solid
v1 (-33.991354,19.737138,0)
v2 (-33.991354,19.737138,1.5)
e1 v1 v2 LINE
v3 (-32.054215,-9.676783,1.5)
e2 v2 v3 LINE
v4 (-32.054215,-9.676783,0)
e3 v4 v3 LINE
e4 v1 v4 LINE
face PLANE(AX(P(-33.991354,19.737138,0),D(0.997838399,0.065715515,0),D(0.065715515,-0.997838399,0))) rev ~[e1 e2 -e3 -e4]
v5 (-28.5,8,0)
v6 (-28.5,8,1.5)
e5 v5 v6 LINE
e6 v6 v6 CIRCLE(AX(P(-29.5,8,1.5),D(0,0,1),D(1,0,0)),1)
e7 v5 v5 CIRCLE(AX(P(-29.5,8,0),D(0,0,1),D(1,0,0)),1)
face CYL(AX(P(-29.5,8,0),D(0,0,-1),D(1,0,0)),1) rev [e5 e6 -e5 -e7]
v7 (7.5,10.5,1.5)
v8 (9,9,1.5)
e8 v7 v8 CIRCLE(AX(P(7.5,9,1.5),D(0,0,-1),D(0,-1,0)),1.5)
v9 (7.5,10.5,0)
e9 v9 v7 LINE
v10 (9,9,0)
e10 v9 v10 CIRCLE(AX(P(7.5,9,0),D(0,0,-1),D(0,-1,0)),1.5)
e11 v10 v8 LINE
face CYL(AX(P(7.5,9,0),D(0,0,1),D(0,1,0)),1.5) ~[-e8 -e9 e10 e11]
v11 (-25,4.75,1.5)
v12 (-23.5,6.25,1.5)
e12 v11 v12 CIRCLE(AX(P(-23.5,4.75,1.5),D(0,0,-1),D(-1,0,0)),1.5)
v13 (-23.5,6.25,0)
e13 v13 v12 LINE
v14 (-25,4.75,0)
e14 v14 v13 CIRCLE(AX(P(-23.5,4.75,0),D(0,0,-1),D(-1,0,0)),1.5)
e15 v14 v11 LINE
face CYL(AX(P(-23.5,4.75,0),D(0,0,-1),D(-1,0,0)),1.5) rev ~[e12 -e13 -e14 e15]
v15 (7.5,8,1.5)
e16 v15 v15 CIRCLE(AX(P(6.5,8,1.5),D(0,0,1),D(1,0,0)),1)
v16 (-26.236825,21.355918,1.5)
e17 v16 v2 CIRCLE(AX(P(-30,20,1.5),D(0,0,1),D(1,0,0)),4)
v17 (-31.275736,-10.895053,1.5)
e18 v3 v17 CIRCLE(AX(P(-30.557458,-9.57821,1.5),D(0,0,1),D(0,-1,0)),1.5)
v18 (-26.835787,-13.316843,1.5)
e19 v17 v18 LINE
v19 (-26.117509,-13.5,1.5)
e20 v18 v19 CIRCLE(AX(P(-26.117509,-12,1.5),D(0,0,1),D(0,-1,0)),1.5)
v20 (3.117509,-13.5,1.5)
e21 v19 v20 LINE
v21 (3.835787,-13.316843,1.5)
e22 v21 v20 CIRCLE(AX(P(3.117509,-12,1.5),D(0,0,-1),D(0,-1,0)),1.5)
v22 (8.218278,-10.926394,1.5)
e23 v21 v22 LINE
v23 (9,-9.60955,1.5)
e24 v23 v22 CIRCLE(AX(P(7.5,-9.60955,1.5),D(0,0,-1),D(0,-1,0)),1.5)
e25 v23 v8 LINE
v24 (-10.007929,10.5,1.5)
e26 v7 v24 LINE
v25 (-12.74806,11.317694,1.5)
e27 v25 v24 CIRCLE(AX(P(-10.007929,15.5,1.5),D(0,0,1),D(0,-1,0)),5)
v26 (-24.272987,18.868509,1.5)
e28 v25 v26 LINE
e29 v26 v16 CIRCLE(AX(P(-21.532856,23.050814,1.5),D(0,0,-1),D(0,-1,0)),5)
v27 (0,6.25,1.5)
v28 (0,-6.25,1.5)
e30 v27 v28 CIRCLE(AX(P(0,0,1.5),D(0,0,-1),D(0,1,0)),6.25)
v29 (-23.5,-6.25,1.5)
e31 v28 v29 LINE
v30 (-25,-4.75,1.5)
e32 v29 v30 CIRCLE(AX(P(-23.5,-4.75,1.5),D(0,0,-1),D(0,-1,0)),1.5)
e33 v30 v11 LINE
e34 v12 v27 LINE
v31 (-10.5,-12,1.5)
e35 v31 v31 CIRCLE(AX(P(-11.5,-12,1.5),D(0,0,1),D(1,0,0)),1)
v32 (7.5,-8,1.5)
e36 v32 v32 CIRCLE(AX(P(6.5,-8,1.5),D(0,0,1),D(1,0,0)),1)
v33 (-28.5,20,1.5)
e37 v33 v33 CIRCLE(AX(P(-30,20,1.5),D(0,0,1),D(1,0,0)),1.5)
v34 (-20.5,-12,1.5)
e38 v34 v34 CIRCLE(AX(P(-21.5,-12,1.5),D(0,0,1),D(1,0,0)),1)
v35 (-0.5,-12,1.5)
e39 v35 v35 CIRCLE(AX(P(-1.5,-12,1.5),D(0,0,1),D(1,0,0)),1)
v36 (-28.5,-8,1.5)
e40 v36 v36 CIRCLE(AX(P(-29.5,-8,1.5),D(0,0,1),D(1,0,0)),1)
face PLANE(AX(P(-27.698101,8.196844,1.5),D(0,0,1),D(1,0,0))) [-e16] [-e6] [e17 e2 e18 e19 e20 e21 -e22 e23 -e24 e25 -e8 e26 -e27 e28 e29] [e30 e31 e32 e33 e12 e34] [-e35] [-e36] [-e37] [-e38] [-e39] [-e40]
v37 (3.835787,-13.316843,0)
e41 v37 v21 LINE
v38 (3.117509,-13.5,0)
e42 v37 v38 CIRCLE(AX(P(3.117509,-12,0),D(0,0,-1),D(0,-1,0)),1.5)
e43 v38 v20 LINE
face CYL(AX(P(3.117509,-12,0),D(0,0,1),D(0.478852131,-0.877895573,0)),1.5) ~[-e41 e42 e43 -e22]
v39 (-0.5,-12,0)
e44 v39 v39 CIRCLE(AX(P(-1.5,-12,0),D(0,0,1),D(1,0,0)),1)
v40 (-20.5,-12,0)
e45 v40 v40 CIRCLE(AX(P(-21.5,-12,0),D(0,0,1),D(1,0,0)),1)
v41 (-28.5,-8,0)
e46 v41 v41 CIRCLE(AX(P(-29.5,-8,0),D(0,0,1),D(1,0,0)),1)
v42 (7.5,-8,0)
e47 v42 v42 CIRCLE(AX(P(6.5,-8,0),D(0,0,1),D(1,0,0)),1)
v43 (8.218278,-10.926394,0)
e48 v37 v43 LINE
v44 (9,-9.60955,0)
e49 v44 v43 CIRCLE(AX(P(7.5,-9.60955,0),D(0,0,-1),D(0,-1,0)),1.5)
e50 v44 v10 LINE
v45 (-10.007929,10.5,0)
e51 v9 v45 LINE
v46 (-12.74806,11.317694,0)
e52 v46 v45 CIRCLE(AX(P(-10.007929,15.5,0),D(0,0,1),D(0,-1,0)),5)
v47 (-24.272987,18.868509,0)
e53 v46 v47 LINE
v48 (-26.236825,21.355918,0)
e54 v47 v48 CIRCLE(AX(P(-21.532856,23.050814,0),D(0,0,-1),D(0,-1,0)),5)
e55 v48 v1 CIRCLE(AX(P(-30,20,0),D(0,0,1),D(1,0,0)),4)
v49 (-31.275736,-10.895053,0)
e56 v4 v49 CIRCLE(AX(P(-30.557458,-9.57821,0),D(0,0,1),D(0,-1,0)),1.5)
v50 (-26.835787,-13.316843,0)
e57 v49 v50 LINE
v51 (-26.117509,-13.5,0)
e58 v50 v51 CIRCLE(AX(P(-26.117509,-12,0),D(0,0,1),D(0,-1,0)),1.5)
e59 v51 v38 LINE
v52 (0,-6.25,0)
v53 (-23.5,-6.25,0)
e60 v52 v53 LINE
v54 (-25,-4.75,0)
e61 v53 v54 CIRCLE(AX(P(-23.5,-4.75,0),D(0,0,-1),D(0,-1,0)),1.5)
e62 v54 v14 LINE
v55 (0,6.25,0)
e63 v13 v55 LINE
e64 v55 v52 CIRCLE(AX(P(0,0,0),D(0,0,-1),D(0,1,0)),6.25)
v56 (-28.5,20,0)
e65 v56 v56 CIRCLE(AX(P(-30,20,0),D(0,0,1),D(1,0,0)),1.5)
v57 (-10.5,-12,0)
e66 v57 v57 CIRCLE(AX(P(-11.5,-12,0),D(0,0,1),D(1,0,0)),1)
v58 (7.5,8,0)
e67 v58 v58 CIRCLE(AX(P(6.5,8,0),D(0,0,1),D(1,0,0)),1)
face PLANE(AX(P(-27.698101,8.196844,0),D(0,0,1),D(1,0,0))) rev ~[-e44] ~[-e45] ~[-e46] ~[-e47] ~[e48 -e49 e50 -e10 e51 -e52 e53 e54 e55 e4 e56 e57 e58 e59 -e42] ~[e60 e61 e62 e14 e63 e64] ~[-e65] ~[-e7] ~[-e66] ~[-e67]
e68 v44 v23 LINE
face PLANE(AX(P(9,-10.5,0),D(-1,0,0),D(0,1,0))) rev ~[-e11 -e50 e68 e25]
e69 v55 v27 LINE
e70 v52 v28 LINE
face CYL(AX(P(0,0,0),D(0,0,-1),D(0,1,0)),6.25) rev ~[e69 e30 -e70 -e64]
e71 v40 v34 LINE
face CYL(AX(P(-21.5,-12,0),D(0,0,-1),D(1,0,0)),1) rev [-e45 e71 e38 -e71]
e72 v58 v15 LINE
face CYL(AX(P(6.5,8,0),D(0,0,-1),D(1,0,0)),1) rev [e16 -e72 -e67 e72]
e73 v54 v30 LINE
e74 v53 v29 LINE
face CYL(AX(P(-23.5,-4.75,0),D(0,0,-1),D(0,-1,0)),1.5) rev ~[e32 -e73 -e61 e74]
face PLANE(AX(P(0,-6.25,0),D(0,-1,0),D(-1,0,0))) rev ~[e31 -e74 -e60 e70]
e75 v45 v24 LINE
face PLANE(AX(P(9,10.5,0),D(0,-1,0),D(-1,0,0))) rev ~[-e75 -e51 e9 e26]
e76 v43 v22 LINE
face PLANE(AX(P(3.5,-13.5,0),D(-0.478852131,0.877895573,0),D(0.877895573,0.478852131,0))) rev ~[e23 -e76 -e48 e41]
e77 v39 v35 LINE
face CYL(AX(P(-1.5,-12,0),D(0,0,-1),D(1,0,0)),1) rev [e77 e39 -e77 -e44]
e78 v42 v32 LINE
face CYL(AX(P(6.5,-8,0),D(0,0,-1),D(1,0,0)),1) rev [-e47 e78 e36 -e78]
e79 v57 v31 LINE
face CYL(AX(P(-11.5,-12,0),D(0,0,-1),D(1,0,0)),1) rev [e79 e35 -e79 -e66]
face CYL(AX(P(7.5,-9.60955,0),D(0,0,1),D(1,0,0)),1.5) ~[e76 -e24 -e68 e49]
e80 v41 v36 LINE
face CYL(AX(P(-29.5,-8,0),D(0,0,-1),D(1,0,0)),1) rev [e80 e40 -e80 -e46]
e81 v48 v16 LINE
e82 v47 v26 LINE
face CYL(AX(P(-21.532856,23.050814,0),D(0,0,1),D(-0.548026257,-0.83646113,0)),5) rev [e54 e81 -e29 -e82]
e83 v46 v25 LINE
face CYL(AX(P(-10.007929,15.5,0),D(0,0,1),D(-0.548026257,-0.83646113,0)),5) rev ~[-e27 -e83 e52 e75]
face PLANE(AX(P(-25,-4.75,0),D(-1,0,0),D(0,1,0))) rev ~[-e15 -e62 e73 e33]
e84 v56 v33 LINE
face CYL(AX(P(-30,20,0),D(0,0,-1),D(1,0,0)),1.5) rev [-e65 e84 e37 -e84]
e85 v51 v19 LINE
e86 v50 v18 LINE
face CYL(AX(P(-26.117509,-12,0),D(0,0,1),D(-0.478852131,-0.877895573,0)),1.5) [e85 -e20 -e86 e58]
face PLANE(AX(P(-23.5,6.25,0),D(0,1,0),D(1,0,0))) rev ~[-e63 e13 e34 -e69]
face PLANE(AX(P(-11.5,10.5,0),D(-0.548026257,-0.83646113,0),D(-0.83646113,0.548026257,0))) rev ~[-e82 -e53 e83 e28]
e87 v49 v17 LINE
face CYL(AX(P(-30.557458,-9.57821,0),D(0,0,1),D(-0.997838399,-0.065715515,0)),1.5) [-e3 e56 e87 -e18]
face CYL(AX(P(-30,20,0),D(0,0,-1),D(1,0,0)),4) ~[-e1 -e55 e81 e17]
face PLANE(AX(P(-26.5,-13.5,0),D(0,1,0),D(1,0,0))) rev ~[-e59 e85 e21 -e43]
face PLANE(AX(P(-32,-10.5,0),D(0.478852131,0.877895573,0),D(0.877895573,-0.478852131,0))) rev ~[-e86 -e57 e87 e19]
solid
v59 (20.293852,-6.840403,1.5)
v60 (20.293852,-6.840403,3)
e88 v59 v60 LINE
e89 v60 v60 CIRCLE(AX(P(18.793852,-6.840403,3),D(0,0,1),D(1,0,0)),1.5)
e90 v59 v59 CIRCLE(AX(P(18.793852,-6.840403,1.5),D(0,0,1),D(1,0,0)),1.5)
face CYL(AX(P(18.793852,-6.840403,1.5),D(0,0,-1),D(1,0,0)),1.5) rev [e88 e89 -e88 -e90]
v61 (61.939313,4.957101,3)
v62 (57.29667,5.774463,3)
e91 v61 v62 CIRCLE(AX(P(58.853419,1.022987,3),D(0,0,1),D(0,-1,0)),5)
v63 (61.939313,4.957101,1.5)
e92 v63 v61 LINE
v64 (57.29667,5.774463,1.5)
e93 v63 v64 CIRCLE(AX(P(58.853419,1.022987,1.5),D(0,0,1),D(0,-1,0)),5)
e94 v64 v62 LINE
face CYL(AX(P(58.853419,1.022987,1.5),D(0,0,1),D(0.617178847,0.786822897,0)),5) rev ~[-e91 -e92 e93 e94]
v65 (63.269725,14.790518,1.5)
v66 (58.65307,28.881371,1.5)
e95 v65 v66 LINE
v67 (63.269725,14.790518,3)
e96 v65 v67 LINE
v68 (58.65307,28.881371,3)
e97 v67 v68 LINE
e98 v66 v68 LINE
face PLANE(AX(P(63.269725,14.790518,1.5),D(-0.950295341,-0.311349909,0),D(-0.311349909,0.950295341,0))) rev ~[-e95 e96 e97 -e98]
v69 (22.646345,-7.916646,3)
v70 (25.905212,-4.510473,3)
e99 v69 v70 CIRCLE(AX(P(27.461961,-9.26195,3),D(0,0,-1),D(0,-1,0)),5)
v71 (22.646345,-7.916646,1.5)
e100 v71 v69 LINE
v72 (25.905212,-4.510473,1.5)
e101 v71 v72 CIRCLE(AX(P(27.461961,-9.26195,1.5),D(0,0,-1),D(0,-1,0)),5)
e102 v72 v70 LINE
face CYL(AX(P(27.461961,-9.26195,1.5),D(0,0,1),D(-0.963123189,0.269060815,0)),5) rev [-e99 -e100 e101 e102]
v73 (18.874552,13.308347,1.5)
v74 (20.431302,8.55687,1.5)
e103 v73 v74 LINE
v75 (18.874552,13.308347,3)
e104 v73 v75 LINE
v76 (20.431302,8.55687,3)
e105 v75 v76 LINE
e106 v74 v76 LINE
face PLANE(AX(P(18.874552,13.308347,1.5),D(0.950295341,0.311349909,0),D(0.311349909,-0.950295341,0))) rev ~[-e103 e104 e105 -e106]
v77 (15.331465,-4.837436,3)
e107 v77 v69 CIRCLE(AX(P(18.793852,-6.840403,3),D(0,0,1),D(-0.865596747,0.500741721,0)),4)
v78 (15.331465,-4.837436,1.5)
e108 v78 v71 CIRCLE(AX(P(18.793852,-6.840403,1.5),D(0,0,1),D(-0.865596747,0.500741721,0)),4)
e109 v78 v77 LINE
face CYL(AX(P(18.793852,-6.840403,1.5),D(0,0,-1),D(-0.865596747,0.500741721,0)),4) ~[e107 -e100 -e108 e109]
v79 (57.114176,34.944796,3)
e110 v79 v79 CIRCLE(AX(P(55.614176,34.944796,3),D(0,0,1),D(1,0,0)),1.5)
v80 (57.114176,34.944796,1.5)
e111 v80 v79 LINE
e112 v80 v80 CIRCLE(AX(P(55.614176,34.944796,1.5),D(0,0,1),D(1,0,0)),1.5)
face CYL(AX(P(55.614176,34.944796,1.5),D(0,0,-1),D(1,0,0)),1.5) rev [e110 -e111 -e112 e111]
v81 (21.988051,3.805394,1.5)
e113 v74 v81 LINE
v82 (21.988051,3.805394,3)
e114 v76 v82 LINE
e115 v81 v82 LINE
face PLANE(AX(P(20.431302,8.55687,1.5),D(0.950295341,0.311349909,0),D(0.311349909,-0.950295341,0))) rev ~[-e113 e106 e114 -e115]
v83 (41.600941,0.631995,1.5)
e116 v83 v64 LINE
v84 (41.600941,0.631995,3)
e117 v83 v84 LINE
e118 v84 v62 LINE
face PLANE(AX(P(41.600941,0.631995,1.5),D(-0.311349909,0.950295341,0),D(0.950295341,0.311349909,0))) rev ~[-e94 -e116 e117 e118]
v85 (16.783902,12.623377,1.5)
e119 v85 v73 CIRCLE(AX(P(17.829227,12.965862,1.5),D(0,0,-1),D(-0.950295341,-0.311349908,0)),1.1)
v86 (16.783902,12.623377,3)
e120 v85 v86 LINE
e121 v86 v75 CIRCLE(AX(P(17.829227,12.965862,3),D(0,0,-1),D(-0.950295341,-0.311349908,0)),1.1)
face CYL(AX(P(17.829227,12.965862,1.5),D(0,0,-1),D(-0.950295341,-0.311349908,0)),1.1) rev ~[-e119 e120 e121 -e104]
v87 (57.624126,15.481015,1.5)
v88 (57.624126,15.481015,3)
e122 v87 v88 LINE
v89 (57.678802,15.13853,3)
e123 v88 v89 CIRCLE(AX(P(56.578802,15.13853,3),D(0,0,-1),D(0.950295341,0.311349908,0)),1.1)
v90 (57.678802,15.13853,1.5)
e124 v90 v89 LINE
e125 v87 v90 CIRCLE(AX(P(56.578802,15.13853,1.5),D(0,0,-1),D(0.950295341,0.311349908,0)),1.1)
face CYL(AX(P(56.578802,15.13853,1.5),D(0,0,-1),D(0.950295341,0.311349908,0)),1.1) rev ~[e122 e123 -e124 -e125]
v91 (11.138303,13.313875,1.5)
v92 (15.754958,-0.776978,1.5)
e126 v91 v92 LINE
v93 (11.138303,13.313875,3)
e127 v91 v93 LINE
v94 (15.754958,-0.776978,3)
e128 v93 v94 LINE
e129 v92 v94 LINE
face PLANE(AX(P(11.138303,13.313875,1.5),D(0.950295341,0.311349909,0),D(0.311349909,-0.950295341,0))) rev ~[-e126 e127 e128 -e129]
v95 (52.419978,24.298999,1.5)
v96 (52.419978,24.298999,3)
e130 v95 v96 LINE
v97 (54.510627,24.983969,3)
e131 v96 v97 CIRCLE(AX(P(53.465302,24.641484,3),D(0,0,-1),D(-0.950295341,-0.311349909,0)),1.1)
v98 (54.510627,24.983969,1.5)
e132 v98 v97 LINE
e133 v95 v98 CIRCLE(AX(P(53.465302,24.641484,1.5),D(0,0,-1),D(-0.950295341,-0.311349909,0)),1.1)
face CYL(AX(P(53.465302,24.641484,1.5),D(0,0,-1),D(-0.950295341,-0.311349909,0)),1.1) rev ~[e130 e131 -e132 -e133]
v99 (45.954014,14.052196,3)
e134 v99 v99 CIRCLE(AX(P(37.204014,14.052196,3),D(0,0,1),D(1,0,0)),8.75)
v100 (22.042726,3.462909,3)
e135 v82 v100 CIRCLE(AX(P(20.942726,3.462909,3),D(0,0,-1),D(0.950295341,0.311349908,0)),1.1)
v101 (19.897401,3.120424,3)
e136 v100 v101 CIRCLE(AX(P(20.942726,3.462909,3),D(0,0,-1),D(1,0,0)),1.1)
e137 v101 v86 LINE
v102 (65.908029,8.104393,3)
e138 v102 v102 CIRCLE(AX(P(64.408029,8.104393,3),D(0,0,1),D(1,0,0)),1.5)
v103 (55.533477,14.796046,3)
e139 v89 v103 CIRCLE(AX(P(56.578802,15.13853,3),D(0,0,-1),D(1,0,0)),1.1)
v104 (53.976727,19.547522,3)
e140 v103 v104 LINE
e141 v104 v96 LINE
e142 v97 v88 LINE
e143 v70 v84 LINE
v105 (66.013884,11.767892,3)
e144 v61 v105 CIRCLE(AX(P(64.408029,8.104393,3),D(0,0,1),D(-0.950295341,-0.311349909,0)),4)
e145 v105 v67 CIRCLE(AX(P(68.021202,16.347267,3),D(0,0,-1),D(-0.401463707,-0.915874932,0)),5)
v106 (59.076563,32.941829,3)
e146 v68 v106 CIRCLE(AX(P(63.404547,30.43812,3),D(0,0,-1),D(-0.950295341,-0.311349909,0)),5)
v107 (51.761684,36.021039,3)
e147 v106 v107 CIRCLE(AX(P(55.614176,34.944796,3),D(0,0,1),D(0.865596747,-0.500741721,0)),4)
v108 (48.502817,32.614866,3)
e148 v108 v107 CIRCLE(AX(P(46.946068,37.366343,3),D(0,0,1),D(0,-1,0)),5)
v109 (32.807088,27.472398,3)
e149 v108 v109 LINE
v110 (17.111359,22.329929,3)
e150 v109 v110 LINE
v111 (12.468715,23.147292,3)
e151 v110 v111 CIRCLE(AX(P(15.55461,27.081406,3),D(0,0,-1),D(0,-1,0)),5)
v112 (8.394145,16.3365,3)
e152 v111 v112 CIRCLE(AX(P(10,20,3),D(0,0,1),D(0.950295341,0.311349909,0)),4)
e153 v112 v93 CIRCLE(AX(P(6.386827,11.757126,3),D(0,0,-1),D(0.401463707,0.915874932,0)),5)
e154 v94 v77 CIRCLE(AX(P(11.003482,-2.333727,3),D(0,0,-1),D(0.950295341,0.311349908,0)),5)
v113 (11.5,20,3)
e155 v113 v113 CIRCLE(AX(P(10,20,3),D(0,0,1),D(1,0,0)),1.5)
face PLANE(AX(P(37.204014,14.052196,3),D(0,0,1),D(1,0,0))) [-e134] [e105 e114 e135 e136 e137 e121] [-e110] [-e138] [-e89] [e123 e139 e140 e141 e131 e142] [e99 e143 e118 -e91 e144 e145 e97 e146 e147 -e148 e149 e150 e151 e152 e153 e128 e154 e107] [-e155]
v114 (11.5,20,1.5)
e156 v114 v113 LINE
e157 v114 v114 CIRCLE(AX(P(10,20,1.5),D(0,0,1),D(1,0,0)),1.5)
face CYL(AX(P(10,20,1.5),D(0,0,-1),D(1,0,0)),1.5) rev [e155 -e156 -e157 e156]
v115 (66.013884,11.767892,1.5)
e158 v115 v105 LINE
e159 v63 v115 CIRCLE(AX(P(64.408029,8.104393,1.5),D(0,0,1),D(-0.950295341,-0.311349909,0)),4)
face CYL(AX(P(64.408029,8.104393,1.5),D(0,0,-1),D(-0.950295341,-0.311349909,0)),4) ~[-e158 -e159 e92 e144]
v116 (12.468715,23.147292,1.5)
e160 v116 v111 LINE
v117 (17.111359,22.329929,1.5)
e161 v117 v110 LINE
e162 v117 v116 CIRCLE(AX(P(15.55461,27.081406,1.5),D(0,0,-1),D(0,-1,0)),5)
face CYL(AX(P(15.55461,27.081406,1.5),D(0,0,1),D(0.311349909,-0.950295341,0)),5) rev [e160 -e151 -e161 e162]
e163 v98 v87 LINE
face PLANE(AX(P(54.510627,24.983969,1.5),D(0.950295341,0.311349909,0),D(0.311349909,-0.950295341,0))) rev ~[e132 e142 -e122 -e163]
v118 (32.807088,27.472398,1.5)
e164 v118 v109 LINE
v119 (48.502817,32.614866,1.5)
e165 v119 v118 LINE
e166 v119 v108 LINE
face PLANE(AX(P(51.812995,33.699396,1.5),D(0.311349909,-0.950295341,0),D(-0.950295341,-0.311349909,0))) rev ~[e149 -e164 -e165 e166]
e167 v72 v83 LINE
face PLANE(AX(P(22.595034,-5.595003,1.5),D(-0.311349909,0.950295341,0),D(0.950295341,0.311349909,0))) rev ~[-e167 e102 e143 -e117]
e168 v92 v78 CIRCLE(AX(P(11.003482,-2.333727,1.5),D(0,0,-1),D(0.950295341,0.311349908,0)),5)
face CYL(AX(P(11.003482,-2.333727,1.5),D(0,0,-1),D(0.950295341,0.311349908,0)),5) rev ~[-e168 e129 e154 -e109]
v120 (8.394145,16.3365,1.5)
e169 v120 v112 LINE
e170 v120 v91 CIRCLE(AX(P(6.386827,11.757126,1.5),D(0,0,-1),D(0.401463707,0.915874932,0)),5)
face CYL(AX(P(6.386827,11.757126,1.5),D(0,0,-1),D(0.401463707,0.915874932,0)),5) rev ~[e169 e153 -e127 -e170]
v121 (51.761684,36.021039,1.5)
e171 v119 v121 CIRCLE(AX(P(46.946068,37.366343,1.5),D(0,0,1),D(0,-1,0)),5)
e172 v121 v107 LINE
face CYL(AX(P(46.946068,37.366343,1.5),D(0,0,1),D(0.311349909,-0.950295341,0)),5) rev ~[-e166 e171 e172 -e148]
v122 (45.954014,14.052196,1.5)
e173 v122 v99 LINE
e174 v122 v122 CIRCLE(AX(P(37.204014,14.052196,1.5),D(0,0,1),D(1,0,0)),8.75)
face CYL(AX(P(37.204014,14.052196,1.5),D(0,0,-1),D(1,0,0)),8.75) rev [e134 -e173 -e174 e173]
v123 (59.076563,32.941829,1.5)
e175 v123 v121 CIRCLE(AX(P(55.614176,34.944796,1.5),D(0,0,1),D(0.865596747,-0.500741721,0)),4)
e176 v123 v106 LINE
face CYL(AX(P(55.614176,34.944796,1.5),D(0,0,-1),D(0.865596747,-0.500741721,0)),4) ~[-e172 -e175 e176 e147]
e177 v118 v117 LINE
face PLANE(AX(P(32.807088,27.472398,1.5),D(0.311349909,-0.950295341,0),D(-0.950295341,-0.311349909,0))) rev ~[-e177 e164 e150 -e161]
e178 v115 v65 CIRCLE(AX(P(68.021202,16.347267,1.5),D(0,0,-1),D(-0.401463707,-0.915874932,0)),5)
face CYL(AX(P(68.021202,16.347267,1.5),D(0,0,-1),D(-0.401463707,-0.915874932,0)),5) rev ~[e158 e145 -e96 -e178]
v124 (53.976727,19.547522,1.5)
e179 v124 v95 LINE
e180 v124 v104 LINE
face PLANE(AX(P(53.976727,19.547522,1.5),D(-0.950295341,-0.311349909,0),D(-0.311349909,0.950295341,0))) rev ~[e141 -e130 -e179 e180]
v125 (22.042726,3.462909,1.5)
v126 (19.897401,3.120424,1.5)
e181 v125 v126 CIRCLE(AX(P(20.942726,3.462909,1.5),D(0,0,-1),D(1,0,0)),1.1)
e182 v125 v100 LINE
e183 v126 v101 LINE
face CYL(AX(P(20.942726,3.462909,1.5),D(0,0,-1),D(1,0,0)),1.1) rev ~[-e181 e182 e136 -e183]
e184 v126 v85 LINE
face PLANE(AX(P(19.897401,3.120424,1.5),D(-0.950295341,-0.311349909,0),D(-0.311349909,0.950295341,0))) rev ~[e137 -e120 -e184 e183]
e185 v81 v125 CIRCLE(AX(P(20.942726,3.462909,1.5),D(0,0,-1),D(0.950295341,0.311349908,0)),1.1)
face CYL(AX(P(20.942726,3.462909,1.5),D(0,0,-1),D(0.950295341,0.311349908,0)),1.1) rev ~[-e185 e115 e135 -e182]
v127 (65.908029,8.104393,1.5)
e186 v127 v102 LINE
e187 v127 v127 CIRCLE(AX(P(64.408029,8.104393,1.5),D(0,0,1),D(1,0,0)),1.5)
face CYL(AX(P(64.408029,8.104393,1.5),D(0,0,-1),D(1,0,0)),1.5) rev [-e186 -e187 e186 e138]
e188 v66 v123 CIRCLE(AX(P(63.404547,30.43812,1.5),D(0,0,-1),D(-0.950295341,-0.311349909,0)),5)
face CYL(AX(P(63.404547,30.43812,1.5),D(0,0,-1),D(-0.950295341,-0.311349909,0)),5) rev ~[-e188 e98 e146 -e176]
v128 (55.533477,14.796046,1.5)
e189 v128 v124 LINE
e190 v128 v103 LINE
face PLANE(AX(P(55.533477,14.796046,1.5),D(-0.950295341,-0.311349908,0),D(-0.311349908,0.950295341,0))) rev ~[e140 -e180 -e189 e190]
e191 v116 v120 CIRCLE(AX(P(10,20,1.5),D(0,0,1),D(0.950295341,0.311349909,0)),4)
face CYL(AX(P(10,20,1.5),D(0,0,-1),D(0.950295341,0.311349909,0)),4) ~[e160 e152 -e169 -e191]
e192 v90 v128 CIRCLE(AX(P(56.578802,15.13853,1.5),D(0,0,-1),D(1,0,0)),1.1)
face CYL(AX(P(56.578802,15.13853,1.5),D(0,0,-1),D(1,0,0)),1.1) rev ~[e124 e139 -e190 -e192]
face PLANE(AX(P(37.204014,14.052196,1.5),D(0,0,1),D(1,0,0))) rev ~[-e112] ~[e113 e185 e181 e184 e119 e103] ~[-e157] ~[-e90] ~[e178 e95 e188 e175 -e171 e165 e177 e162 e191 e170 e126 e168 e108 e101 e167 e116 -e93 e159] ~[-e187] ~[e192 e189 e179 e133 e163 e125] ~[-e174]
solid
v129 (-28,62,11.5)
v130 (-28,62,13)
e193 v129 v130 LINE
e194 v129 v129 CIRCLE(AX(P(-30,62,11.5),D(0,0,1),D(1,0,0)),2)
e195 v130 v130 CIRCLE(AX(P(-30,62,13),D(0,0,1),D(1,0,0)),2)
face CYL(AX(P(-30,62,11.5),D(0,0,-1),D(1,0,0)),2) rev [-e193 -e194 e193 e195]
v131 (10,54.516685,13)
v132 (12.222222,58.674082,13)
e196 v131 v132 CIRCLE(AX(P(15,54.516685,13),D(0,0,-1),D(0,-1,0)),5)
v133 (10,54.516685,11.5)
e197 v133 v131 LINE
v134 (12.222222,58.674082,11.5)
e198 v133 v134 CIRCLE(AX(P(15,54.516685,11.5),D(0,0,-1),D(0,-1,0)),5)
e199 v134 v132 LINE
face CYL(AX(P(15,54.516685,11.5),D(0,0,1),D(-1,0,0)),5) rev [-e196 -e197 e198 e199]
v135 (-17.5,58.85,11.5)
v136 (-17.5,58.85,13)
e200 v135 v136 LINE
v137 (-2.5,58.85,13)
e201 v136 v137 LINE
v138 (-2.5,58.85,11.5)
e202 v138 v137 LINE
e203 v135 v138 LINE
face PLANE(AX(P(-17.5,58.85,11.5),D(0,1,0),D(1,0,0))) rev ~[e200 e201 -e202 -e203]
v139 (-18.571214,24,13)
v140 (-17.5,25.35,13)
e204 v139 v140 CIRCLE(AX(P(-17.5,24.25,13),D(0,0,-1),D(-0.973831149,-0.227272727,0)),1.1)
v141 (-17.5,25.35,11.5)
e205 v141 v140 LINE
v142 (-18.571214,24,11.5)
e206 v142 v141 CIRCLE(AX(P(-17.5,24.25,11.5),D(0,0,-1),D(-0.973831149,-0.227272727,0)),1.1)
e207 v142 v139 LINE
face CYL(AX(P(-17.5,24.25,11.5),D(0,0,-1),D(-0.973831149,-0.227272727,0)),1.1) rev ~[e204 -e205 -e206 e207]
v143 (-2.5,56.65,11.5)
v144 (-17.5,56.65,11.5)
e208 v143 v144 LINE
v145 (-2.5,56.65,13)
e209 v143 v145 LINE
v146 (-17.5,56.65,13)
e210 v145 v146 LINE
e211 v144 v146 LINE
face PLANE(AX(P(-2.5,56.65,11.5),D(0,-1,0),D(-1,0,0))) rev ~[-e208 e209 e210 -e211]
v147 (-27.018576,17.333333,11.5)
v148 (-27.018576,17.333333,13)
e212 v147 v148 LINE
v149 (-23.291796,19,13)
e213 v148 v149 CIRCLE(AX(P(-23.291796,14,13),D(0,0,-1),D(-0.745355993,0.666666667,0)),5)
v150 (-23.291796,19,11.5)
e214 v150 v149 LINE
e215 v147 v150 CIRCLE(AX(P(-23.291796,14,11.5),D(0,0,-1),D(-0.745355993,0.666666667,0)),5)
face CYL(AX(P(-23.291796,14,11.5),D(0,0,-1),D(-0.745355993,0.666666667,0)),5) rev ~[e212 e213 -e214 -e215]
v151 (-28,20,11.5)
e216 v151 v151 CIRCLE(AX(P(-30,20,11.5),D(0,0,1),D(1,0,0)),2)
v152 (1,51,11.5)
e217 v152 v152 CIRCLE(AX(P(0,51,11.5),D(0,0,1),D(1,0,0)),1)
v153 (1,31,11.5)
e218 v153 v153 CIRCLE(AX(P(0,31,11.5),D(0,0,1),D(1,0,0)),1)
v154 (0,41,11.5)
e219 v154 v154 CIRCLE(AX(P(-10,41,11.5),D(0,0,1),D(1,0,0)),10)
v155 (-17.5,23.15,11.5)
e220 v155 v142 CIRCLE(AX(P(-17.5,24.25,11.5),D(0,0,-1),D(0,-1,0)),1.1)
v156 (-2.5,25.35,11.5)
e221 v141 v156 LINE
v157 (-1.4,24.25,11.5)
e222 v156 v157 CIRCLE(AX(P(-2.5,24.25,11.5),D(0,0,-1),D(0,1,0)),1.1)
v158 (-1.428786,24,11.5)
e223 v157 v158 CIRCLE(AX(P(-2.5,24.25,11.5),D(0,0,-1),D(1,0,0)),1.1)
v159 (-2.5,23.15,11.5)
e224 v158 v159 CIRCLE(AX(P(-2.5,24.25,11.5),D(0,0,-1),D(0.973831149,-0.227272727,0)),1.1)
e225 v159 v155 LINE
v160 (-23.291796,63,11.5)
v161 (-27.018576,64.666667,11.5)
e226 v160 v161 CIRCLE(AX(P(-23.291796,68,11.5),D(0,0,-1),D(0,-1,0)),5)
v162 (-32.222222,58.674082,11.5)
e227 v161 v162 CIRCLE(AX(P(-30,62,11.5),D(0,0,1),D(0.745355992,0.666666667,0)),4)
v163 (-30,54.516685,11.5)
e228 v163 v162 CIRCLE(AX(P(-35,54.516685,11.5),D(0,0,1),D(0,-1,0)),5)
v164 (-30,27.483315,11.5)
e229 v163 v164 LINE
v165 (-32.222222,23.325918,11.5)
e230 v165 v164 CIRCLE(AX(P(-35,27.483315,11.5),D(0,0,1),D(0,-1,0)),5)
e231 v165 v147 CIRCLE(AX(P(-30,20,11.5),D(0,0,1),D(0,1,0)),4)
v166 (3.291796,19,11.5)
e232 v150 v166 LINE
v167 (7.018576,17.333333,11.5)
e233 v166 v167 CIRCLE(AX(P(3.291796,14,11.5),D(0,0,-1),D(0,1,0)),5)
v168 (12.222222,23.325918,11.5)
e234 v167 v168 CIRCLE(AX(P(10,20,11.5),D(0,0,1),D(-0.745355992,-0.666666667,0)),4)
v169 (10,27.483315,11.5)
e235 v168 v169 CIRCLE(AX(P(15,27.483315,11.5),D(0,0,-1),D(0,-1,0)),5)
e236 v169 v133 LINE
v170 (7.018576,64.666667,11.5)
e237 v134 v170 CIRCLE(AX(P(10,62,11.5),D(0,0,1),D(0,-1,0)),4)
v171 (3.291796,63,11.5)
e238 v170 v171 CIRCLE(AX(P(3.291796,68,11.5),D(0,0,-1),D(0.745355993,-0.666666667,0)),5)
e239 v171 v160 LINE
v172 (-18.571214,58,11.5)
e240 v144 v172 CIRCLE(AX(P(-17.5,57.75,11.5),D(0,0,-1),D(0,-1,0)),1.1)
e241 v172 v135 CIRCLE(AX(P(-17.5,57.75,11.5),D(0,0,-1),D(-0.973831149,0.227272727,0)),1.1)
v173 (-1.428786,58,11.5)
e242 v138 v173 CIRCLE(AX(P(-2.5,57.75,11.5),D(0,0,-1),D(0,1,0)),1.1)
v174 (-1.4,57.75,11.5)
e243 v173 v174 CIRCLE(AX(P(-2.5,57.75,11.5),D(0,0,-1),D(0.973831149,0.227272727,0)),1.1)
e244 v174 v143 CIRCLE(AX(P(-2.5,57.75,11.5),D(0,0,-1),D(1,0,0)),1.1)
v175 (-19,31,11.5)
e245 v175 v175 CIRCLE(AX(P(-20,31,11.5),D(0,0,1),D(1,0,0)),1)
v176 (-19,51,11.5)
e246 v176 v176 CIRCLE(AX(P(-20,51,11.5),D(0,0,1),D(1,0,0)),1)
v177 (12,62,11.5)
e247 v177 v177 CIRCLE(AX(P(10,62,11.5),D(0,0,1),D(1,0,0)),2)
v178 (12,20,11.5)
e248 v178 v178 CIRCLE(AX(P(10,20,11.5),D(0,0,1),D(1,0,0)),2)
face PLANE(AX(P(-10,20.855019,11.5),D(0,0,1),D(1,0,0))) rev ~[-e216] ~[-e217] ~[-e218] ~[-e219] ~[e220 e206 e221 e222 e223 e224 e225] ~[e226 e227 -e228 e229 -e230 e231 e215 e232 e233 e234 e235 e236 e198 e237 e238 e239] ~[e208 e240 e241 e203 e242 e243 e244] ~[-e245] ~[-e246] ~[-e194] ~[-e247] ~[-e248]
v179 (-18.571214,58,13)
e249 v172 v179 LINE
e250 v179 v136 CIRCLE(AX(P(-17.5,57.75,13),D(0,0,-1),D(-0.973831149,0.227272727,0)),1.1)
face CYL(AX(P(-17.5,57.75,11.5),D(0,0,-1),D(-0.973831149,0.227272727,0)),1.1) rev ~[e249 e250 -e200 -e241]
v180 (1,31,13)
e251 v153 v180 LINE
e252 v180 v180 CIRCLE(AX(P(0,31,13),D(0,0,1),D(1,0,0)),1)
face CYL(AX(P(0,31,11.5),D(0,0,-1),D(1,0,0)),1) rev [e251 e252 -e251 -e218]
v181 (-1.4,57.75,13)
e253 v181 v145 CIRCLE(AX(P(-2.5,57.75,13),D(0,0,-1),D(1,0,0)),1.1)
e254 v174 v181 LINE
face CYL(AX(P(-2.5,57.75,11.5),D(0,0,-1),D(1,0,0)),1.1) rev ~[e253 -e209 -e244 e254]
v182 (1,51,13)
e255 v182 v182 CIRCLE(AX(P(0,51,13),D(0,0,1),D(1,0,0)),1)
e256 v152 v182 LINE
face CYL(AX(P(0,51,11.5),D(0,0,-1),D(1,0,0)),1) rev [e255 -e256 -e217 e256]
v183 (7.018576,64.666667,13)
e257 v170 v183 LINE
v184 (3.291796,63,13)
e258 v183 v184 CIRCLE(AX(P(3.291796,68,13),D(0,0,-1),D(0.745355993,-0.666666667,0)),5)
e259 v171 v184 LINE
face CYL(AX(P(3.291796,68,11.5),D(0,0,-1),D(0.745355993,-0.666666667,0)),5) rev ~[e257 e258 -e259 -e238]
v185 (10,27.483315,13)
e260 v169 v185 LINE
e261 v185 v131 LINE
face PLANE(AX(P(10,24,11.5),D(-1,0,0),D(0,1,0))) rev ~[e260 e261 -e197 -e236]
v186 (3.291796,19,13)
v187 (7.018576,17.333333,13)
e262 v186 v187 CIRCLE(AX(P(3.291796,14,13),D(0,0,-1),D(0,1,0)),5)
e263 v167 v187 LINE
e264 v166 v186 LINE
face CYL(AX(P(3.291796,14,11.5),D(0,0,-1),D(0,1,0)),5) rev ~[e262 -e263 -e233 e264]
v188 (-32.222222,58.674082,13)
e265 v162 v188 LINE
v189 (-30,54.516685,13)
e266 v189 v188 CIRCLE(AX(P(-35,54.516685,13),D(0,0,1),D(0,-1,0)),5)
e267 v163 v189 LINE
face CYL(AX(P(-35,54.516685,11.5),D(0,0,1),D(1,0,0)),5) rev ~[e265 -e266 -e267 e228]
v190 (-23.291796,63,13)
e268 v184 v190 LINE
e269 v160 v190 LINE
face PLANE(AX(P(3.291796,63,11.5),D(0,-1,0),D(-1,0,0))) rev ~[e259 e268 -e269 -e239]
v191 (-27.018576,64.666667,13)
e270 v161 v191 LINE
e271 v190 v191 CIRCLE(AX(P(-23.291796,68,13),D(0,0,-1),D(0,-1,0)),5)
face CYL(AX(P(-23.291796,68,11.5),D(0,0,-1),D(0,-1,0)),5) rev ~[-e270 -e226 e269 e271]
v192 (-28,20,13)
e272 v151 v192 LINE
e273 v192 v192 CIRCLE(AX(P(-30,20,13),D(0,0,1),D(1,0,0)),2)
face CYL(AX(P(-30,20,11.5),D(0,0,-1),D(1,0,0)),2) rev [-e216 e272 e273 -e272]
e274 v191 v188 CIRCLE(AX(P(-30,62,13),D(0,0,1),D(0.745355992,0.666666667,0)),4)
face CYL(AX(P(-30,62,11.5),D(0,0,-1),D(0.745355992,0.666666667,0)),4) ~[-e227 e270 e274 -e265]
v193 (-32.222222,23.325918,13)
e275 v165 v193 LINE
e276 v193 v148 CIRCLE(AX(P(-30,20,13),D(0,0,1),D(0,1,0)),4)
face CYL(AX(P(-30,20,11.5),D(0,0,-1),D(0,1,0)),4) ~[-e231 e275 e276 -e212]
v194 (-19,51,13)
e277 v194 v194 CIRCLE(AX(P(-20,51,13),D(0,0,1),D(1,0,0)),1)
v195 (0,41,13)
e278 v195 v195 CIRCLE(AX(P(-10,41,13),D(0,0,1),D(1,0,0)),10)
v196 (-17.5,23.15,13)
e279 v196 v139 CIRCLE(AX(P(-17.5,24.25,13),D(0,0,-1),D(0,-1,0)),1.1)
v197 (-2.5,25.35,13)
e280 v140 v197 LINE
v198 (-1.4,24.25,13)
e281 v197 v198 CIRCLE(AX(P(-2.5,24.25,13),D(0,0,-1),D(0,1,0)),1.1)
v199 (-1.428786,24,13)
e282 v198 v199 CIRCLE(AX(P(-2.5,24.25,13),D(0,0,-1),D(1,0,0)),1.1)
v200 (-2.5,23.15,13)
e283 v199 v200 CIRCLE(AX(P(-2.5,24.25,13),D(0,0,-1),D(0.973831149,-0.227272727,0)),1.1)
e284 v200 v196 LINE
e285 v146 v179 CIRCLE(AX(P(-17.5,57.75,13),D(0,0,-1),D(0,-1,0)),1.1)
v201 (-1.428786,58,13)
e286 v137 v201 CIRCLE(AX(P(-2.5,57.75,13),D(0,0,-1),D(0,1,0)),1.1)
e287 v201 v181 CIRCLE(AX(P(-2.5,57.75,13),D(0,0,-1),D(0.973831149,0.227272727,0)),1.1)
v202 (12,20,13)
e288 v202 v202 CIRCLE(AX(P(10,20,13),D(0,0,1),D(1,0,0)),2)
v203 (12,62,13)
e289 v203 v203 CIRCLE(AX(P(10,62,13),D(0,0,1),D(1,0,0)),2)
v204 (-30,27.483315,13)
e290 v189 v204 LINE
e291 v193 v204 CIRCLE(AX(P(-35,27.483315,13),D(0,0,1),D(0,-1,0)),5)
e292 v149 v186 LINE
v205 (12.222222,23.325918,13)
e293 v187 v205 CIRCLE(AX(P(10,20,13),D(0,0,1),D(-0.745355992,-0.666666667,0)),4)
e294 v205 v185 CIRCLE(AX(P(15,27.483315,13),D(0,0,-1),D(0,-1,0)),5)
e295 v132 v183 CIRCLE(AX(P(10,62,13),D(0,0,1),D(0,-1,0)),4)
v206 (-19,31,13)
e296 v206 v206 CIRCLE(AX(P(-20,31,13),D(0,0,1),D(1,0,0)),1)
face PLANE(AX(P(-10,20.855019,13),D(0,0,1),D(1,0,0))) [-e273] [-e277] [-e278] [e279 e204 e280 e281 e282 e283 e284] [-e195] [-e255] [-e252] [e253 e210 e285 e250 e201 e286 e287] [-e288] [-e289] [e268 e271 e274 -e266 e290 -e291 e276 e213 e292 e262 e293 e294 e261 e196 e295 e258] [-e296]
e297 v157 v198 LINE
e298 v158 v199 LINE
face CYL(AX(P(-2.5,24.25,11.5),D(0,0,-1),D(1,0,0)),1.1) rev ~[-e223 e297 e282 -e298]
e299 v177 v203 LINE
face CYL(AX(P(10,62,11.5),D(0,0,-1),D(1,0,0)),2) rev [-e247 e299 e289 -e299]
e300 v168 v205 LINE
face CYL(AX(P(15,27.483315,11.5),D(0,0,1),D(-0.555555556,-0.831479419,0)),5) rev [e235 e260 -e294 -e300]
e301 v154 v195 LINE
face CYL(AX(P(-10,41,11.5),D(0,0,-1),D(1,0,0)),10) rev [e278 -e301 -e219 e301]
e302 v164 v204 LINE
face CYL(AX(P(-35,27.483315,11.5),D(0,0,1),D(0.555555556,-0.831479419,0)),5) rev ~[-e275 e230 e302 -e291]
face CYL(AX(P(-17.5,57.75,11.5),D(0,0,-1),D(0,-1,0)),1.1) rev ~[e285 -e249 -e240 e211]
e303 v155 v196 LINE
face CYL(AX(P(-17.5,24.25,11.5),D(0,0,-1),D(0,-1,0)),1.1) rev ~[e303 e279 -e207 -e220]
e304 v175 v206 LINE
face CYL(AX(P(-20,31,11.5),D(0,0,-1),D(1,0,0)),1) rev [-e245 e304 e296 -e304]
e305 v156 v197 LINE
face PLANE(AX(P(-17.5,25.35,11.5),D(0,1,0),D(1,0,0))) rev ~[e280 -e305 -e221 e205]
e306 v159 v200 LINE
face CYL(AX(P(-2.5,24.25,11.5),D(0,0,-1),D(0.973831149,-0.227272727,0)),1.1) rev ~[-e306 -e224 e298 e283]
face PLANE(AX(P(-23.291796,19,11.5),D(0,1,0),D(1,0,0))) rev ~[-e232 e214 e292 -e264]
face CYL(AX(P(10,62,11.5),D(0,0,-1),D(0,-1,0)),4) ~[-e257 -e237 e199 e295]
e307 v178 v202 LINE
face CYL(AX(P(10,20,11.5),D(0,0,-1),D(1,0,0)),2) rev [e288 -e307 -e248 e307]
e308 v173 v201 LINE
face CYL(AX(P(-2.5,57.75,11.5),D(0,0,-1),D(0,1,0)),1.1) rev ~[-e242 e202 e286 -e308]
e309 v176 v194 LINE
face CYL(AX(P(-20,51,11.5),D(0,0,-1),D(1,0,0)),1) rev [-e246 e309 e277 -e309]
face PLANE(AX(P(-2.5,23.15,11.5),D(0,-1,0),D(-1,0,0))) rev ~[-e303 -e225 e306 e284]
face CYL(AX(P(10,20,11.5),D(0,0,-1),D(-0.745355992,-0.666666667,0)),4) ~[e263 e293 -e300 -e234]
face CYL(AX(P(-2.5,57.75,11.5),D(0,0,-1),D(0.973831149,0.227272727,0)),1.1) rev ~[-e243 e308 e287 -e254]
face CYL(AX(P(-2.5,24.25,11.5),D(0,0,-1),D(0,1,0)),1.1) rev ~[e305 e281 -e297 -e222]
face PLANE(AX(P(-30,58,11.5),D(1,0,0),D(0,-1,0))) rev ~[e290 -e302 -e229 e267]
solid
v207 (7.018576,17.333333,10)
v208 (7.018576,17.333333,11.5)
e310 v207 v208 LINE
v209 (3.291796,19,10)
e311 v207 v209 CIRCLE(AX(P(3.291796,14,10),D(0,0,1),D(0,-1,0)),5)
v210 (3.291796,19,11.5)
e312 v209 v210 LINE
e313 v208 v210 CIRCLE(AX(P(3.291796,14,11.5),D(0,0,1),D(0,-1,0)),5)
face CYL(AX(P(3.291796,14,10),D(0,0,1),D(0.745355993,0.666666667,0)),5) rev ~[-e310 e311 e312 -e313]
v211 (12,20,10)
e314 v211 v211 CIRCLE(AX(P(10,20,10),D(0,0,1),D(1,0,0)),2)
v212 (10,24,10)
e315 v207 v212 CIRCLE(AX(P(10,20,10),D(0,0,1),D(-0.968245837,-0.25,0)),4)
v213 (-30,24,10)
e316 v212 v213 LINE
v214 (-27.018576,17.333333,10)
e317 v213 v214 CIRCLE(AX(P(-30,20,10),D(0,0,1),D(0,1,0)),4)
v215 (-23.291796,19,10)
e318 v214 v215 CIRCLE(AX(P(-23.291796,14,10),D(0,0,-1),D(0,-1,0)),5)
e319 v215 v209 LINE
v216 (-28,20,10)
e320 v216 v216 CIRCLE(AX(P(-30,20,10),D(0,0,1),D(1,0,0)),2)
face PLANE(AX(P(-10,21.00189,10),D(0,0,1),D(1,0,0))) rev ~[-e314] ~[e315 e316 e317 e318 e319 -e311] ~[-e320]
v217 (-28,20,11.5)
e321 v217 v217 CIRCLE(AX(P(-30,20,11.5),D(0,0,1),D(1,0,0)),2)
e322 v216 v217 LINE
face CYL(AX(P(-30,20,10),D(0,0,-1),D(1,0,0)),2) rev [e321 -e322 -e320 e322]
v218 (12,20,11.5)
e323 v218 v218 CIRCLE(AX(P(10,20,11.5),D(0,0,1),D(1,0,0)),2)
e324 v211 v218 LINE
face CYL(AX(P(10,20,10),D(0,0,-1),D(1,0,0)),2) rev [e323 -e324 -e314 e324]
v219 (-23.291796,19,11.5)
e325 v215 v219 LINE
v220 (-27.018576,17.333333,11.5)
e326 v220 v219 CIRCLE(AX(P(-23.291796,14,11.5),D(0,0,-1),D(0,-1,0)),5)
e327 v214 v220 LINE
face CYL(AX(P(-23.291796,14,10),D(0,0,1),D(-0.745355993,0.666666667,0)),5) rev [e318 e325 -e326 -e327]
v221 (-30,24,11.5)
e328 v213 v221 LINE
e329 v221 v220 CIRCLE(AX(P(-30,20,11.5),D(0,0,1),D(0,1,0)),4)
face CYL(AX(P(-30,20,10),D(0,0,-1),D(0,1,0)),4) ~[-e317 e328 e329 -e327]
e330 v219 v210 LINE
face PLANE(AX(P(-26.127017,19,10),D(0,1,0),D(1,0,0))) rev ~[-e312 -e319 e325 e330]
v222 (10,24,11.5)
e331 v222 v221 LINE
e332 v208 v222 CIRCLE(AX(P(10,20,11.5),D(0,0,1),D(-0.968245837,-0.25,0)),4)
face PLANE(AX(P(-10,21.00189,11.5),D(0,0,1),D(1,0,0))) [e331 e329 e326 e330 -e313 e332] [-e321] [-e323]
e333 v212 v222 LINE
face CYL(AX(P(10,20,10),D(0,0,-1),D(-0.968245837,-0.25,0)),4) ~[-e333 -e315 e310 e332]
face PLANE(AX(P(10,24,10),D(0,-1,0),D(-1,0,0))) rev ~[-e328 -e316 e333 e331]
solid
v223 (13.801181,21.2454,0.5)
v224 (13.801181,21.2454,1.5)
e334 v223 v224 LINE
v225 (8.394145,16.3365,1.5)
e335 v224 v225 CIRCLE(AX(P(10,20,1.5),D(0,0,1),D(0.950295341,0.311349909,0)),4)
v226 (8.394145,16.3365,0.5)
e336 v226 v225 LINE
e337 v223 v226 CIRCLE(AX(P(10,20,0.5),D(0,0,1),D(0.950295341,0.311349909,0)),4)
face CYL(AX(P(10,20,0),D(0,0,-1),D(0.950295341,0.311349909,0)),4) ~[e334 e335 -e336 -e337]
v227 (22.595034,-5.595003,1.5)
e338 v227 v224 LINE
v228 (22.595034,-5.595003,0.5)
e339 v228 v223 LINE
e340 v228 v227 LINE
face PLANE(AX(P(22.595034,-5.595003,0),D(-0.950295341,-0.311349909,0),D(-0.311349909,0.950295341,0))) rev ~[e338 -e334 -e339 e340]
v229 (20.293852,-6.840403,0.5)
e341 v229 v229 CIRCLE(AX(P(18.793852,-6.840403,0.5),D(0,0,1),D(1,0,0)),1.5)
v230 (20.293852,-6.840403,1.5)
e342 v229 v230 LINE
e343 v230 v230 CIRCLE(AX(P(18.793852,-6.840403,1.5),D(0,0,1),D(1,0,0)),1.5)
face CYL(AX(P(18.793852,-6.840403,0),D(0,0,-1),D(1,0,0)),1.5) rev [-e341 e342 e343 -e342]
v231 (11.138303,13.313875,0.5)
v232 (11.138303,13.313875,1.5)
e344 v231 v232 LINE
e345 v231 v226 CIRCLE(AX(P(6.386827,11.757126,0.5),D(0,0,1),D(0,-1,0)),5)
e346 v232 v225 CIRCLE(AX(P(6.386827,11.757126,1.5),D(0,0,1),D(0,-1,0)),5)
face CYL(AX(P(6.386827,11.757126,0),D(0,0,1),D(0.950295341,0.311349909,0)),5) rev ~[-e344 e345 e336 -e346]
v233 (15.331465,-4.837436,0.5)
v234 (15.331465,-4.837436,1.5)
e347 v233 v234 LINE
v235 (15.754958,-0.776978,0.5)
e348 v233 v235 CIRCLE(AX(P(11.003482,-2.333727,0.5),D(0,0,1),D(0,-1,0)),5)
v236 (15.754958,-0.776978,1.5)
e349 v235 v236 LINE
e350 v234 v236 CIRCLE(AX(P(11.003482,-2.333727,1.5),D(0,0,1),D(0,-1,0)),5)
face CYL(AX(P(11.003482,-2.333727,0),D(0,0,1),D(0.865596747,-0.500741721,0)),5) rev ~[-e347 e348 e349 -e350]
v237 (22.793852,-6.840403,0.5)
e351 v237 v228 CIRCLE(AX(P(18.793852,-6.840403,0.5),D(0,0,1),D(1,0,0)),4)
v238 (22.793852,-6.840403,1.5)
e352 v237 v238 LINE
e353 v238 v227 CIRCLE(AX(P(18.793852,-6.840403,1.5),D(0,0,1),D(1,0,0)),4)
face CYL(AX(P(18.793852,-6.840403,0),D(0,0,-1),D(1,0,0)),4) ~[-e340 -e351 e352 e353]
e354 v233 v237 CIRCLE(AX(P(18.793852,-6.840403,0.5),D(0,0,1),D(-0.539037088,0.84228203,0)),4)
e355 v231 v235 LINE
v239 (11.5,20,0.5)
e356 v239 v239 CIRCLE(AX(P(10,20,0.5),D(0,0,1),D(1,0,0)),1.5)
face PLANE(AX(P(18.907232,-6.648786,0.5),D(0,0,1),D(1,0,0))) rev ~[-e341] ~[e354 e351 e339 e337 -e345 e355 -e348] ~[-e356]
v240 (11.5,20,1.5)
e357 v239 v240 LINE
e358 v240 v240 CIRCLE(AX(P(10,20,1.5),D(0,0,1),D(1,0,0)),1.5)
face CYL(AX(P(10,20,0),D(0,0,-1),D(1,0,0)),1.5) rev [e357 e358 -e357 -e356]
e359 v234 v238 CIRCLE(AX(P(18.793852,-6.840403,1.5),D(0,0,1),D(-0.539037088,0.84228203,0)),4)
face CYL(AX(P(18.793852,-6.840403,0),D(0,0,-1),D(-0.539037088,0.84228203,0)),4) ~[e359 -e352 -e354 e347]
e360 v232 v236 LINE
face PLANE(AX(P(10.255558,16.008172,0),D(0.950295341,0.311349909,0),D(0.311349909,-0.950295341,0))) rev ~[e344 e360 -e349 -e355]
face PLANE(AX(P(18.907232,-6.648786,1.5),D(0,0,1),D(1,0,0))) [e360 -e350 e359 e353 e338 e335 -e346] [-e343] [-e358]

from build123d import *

# Parameters (mm, degrees)
F0_R      = 1
F0_R_2    = 1.5
F0_W      = 30
F0_H      = 3
F1_DEPTH  = 1.5
F3_R      = 2
F4_DEPTH  = 1.5
F5_R      = 5
F5_2_R    = 5
F5_3_R    = 5
F6_R      = 1.5
F7_DEPTH  = 0.5
F8_R      = 8.75
F8_R_2    = 1.5
F9_DEPTH  = 1.5
F10_R     = 2
F10_R_2   = 1
F10_R_3   = 10
F11_DEPTH = 1.5
F12_R     = 5
F12_2_R   = 5


with BuildPart() as f1:
    # F0 (on Top) → F1 (new body)
    with BuildSketch(Plane.XY):
        with BuildLine():
            Line((-32, -10.5), (-32, 10.5))
            Line((-32, 10.5), (-11.5, 10.5))
            Line((-11.5, 10.5), (-26, 20))
            ThreePointArc((-26, 20), (-29.8684978874, 16.0021621851), (-33.9913535972, 19.7371379408))
            Line((-33.9913535972, 19.7371379408), (-32, -10.5))
        make_face()
        Polygon((-11.5, 10.5), (-32, 10.5), (-32, -10.5), (-26.5, -10.5), (3.5, -10.5), (9, -10.5), (9, 10.5), align=None)
        with Locations((-29.5, -8)):
            Circle(F0_R, mode=Mode.SUBTRACT)
        with BuildLine():
            ThreePointArc((0, 6.25), (6.25, 0), (0, -6.25))
            Line((0, -6.25), (-23.5, -6.25))
            ThreePointArc((-23.5, -6.25), (-24.5606601718, -5.8106601718), (-25, -4.75))
            Line((-25, -4.75), (-25, 0))
            Line((-25, 0), (-25, 4.75))
            ThreePointArc((-25, 4.75), (-24.5606601718, 5.8106601718), (-23.5, 6.25))
            Line((-23.5, 6.25), (0, 6.25))
        make_face(mode=Mode.SUBTRACT)
        with Locations((6.5, -8)):
            Circle(F0_R, mode=Mode.SUBTRACT)
        with Locations((-29.5, 8)):
            Circle(F0_R, mode=Mode.SUBTRACT)
        with Locations((6.5, 8)):
            Circle(F0_R, mode=Mode.SUBTRACT)
        Polygon((-26.5, -10.5), (-32, -10.5), (-26.5, -13.5), align=None)
        with BuildLine():
            ThreePointArc((-33.9913535972, 19.7371379408), (-29.8684978874, 16.0021621851), (-26, 20))
            ThreePointArc((-26, 20), (-30.1315021126, 23.9978378149), (-33.9913535972, 19.7371379408))
        make_face()
        with Locations((-30, 20)):
            Circle(F0_R_2, mode=Mode.SUBTRACT)
        with Locations((-11.5, -12)):
            Rectangle(F0_W, F0_H)
        with Locations((-21.5, -12)):
            Circle(F0_R, mode=Mode.SUBTRACT)
        with Locations((-11.5, -12)):
            Circle(F0_R, mode=Mode.SUBTRACT)
        with Locations((-1.5, -12)):
            Circle(F0_R, mode=Mode.SUBTRACT)
        Polygon((3.5, -13.5), (9, -10.5), (3.5, -10.5), align=None)
    extrude(amount=F1_DEPTH)

    # F5#3
    f5_3_edges = [f1.edges().sort_by_distance(p)[0] for p in [
        (-26, 20, 0.75),
        (-11.5, 10.5, 0.75),
    ]]
    fillet(f5_3_edges, radius=F5_3_R)

    # F6
    f6_edges = [f1.edges().sort_by_distance(p)[0] for p in [
        (9, 10.5, 0.75),
        (-32, -10.5, 0.75),
        (9, -10.5, 0.75),
        (-26.5, -13.5, 0.75),
        (3.5, -13.5, 0.75),
    ]]
    fillet(f6_edges, radius=F6_R)


with BuildPart() as f1b:
    # F0 (on Top) → F1, piece 2 (new body)
    with BuildSketch(Plane.XY):
        with BuildLine():
            ThreePointArc((16.6377040645, -3.4712747467), (16.8735130453, -10.3492911096), (22.7938524157, -6.8404028665))
            ThreePointArc((22.7938524157, -6.8404028665), (22.7438350391, -6.2098179993), (22.5950337783, -5.5950032324))
            ThreePointArc((22.5950337783, -5.5950032324), (20.1370162451, -3.0726567329), (16.6377040645, -3.4712747467))
        make_face()
        with Locations((18.7938524157, -6.8404028665)):
            Circle(F0_R_2, mode=Mode.SUBTRACT)
        with BuildLine():
            ThreePointArc((16.6377040645, -3.4712747467), (20.1370162451, -3.0726567329), (22.5950337783, -5.5950032324))
            Line((22.5950337783, -5.5950032324), (13.8011813626, 21.2453996341))
            ThreePointArc((13.8011813626, 21.2453996341), (13.9499826234, 20.6305848672), (14, 20))
            ThreePointArc((14, 20), (12.9173815897, 17.263417339), (10.2555576699, 16.0081720632))
            Line((10.2555576699, 16.0081720632), (16.6377040645, -3.4712747467))
        make_face()
        with BuildLine():
            ThreePointArc((14, 20), (13.9499826234, 20.6305848672), (13.8011813626, 21.2453996341))
            ThreePointArc((13.8011813626, 21.2453996341), (6.6876864503, 22.242449319), (10.2555576699, 16.0081720632))
            ThreePointArc((10.2555576699, 16.0081720632), (12.9173815897, 17.263417339), (14, 20))
        make_face()
        with Locations((10, 20)):
            Circle(F0_R_2, mode=Mode.SUBTRACT)
    extrude(amount=F1_DEPTH)

    # F5
    f5_edges = [f1b.edges().sort_by_distance(p)[0] for p in [
        (10.255558, 16.008172, 0.75),
        (16.637704, -3.471275, 0.75),
    ]]
    fillet(f5_edges, radius=F5_R)

    # F7 (cut): a face of the model
    f7_faces = [f1b.faces().sort_by_distance(p)[0] for p in [
        (15.2199810724, 6.849460056, 0),
    ]]
    extrude(f7_faces, amount=-F7_DEPTH, mode=Mode.SUBTRACT)


with BuildPart() as f4:
    # F3 (on offset) → F4 (new body)
    with BuildSketch(Plane.XY.offset(10)):
        with BuildLine():
            Line((10, 24), (-30, 24))
            ThreePointArc((-30, 24), (-33.1622776602, 17.5505102572), (-26.1270166538, 19))
            Line((-26.1270166538, 19), (6.1270166538, 19))
            ThreePointArc((6.1270166538, 19), (13.1622776602, 17.5505102572), (10, 24))
        make_face()
        with Locations((-30, 20)):
            Circle(F3_R, mode=Mode.SUBTRACT)
        with Locations((10, 20)):
            Circle(F3_R, mode=Mode.SUBTRACT)
    extrude(amount=F4_DEPTH)

    # F5#2
    f5_2_edges = [f4.edges().sort_by_distance(p)[0] for p in [
        (-26.127017, 19, 10.75),
        (6.127017, 19, 10.75),
    ]]
    fillet(f5_2_edges, radius=F5_2_R)


with BuildPart() as f9:
    # F8 (on face) → F9 (new body)
    with BuildSketch(Plane.XY.offset(1.5)):
        Polygon((13.8011813626, 21.2453996341), (22.5950337783, -5.5950032324), (41.6009405914, 0.6319949379), (60.6068474044, 6.8589931082), (51.8129949887, 33.6993959747), (32.8070881757, 27.4723978044), align=None)
        with BuildLine():
            ThreePointArc((22.0427262889, 3.4629088832), (21.1161371274, 2.3766636618), (19.8974014142, 3.1204239838))
            Line((19.8974014142, 3.1204239838), (18.3406518716, 7.8719006871))
            Line((18.3406518716, 7.8719006871), (16.783902329, 12.6233773904))
            ThreePointArc((16.783902329, 12.6233773904), (17.4867423043, 14.0111871644), (18.8745520784, 13.3083471891))
            Line((18.8745520784, 13.3083471891), (20.431301621, 8.5568704858))
            Line((20.431301621, 8.5568704858), (21.9880511636, 3.8053937826))
            ThreePointArc((21.9880511636, 3.8053937826), (22.0289715103, 3.6363197217), (22.0427262889, 3.4629088832))
        make_face(mode=Mode.SUBTRACT)
        with Locations((37.2040143835, 14.0521963711)):
            Circle(F8_R, mode=Mode.SUBTRACT)
        with BuildLine():
            ThreePointArc((52.4199776035, 24.2989989597), (53.1228175788, 25.6868087338), (54.5106273529, 24.9839687585))
            Line((54.5106273529, 24.9839687585), (56.0673768955, 20.2324920552))
            Line((56.0673768955, 20.2324920552), (57.6241264381, 15.4810153519))
            ThreePointArc((57.6241264381, 15.4810153519), (57.6650467848, 15.3119412911), (57.6788015634, 15.1385304526))
            ThreePointArc((57.6788015634, 15.1385304526), (56.7522124018, 14.0522852311), (55.5334766886, 14.7960455532))
            Line((55.5334766886, 14.7960455532), (53.9767271461, 19.5475222565))
            Line((53.9767271461, 19.5475222565), (52.4199776035, 24.2989989597))
        make_face(mode=Mode.SUBTRACT)
        with BuildLine():
            ThreePointArc((15.331465427, -4.837435982), (18.3789157438, -10.8188231005), (22.5950337783, -5.5950032324))
            Line((22.5950337783, -5.5950032324), (13.8011813626, 21.2453996341))
            ThreePointArc((13.8011813626, 21.2453996341), (7.3112850858, 22.9615556909), (8.3941451719, 16.3365002701))
            ThreePointArc((8.3941451719, 16.3365002701), (10.0887712504, 15.1180192504), (11.13830334, 13.3138751503))
            Line((11.13830334, 13.3138751503), (15.7549583944, -0.7769778338))
            ThreePointArc((15.7549583944, -0.7769778338), (15.9765069836, -2.8523982163), (15.331465427, -4.837435982))
        make_face()
        with Locations((18.7938524157, -6.8404028665)):
            Circle(F8_R_2, mode=Mode.SUBTRACT)
        with Locations((10, 20)):
            Circle(F8_R_2, mode=Mode.SUBTRACT)
        with BuildLine():
            Line((51.8129949887, 33.6993959747), (60.6068474044, 6.8589931082))
            ThreePointArc((60.6068474044, 6.8589931082), (67.0967436812, 5.1428370514), (66.0138835952, 11.7678924722))
            ThreePointArc((66.0138835952, 11.7678924722), (64.3192575167, 12.9863734919), (63.269725427, 14.790517592))
            Line((63.269725427, 14.790517592), (58.6530703727, 28.8813705761))
            ThreePointArc((58.6530703727, 28.8813705761), (58.4315217834, 30.9567909586), (59.0765633401, 32.9418287243))
            ThreePointArc((59.0765633401, 32.9418287243), (56.0291130232, 38.9232158428), (51.8129949887, 33.6993959747))
        make_face()
        with Locations((64.4080287671, 8.1043927423)):
            Circle(F8_R_2, mode=Mode.SUBTRACT)
        with Locations((55.6141763513, 34.9447956088)):
            Circle(F8_R_2, mode=Mode.SUBTRACT)
    extrude(amount=F9_DEPTH)

    # F12
    f12_edges = [f9.edges().sort_by_distance(p)[0] for p in [
        (22.595034, -5.595003, 2.25),
        (60.606847, 6.858993, 2.25),
        (51.812995, 33.699396, 2.25),
        (13.801181, 21.2454, 2.25),
    ]]
    fillet(f12_edges, radius=F12_R)


with BuildPart() as f11:
    # F10 (on face) → F11 (new body)
    with BuildSketch(Plane.XY.offset(11.5)):
        with BuildLine():
            Line((-18.5712142643, 24), (-30, 24))
            ThreePointArc((-30, 24), (-33.6514837167, 18.3670068381), (-27.01857603, 17.3333333333))
            ThreePointArc((-27.01857603, 17.3333333333), (-25.3330375198, 18.5643546459), (-23.2917960675, 19))
            Line((-23.2917960675, 19), (3.2917960675, 19))
            ThreePointArc((3.2917960675, 19), (5.3330375198, 18.5643546459), (7.01857603, 17.3333333333))
            ThreePointArc((7.01857603, 17.3333333333), (13.6514837167, 18.3670068381), (10, 24))
            Line((10, 24), (-1.4287857357, 24))
            ThreePointArc((-1.4287857357, 24), (-1.8162602834, 23.388315603), (-2.5, 23.15))
            Line((-2.5, 23.15), (-10, 23.15))
            Line((-10, 23.15), (-17.5, 23.15))
            ThreePointArc((-17.5, 23.15), (-18.1837397166, 23.388315603), (-18.5712142643, 24))
        make_face()
        with Locations((-30, 20)):
            Circle(F10_R, mode=Mode.SUBTRACT)
        with Locations((10, 20)):
            Circle(F10_R, mode=Mode.SUBTRACT)
        with BuildLine():
            Line((-30, 58), (-30, 24))
            Line((-30, 24), (-18.5712142643, 24))
            ThreePointArc((-18.5712142643, 24), (-18.361684397, 24.9337397166), (-17.5, 25.35))
            Line((-17.5, 25.35), (-10, 25.35))
            Line((-10, 25.35), (-2.5, 25.35))
            ThreePointArc((-2.5, 25.35), (-1.7221825407, 25.0278174593), (-1.4, 24.25))
            ThreePointArc((-1.4, 24.25), (-1.4072201295, 24.1241741098), (-1.4287857357, 24))
            Line((-1.4287857357, 24), (10, 24))
            Line((10, 24), (10, 58))
            Line((10, 58), (-1.4287857357, 58))
            ThreePointArc((-1.4287857357, 58), (-1.4072201295, 57.8758258902), (-1.4, 57.75))
            ThreePointArc((-1.4, 57.75), (-1.7221825407, 56.9721825407), (-2.5, 56.65))
            Line((-2.5, 56.65), (-10, 56.65))
            Line((-10, 56.65), (-17.5, 56.65))
            ThreePointArc((-17.5, 56.65), (-18.361684397, 57.0662602834), (-18.5712142643, 58))
            Line((-18.5712142643, 58), (-30, 58))
        make_face()
        with Locations((-20, 31)):
            Circle(F10_R_2, mode=Mode.SUBTRACT)
        with Locations((0, 31)):
            Circle(F10_R_2, mode=Mode.SUBTRACT)
        with Locations((-10, 41)):
            Circle(F10_R_3, mode=Mode.SUBTRACT)
        with Locations((-20, 51)):
            Circle(F10_R_2, mode=Mode.SUBTRACT)
        with Locations((0, 51)):
            Circle(F10_R_2, mode=Mode.SUBTRACT)
        with BuildLine():
            ThreePointArc((-27.01857603, 64.6666666667), (-33.6514837167, 63.6329931619), (-30, 58))
            Line((-30, 58), (-18.5712142643, 58))
            ThreePointArc((-18.5712142643, 58), (-18.1837397166, 58.611684397), (-17.5, 58.85))
            Line((-17.5, 58.85), (-10, 58.85))
            Line((-10, 58.85), (-2.5, 58.85))
            ThreePointArc((-2.5, 58.85), (-1.8162602834, 58.611684397), (-1.4287857357, 58))
            Line((-1.4287857357, 58), (10, 58))
            ThreePointArc((10, 58), (13.6514837167, 63.6329931619), (7.01857603, 64.6666666667))
            ThreePointArc((7.01857603, 64.6666666667), (5.3330375198, 63.4356453541), (3.2917960675, 63))
            Line((3.2917960675, 63), (-23.2917960675, 63))
            ThreePointArc((-23.2917960675, 63), (-25.3330375198, 63.4356453541), (-27.01857603, 64.6666666667))
        make_face()
        with Locations((-30, 62)):
            Circle(F10_R, mode=Mode.SUBTRACT)
        with Locations((10, 62)):
            Circle(F10_R, mode=Mode.SUBTRACT)
    extrude(amount=F11_DEPTH)

    # F12#2
    f12_2_edges = [f11.edges().sort_by_distance(p)[0] for p in [
        (10, 58, 12.25),
        (10, 24, 12.25),
        (-30, 24, 12.25),
        (-30, 58, 12.25),
    ]]
    fillet(f12_2_edges, radius=F12_2_R)


solid = Compound([f1.part, f1b.part, f4.part, f9.part, f11.part])
